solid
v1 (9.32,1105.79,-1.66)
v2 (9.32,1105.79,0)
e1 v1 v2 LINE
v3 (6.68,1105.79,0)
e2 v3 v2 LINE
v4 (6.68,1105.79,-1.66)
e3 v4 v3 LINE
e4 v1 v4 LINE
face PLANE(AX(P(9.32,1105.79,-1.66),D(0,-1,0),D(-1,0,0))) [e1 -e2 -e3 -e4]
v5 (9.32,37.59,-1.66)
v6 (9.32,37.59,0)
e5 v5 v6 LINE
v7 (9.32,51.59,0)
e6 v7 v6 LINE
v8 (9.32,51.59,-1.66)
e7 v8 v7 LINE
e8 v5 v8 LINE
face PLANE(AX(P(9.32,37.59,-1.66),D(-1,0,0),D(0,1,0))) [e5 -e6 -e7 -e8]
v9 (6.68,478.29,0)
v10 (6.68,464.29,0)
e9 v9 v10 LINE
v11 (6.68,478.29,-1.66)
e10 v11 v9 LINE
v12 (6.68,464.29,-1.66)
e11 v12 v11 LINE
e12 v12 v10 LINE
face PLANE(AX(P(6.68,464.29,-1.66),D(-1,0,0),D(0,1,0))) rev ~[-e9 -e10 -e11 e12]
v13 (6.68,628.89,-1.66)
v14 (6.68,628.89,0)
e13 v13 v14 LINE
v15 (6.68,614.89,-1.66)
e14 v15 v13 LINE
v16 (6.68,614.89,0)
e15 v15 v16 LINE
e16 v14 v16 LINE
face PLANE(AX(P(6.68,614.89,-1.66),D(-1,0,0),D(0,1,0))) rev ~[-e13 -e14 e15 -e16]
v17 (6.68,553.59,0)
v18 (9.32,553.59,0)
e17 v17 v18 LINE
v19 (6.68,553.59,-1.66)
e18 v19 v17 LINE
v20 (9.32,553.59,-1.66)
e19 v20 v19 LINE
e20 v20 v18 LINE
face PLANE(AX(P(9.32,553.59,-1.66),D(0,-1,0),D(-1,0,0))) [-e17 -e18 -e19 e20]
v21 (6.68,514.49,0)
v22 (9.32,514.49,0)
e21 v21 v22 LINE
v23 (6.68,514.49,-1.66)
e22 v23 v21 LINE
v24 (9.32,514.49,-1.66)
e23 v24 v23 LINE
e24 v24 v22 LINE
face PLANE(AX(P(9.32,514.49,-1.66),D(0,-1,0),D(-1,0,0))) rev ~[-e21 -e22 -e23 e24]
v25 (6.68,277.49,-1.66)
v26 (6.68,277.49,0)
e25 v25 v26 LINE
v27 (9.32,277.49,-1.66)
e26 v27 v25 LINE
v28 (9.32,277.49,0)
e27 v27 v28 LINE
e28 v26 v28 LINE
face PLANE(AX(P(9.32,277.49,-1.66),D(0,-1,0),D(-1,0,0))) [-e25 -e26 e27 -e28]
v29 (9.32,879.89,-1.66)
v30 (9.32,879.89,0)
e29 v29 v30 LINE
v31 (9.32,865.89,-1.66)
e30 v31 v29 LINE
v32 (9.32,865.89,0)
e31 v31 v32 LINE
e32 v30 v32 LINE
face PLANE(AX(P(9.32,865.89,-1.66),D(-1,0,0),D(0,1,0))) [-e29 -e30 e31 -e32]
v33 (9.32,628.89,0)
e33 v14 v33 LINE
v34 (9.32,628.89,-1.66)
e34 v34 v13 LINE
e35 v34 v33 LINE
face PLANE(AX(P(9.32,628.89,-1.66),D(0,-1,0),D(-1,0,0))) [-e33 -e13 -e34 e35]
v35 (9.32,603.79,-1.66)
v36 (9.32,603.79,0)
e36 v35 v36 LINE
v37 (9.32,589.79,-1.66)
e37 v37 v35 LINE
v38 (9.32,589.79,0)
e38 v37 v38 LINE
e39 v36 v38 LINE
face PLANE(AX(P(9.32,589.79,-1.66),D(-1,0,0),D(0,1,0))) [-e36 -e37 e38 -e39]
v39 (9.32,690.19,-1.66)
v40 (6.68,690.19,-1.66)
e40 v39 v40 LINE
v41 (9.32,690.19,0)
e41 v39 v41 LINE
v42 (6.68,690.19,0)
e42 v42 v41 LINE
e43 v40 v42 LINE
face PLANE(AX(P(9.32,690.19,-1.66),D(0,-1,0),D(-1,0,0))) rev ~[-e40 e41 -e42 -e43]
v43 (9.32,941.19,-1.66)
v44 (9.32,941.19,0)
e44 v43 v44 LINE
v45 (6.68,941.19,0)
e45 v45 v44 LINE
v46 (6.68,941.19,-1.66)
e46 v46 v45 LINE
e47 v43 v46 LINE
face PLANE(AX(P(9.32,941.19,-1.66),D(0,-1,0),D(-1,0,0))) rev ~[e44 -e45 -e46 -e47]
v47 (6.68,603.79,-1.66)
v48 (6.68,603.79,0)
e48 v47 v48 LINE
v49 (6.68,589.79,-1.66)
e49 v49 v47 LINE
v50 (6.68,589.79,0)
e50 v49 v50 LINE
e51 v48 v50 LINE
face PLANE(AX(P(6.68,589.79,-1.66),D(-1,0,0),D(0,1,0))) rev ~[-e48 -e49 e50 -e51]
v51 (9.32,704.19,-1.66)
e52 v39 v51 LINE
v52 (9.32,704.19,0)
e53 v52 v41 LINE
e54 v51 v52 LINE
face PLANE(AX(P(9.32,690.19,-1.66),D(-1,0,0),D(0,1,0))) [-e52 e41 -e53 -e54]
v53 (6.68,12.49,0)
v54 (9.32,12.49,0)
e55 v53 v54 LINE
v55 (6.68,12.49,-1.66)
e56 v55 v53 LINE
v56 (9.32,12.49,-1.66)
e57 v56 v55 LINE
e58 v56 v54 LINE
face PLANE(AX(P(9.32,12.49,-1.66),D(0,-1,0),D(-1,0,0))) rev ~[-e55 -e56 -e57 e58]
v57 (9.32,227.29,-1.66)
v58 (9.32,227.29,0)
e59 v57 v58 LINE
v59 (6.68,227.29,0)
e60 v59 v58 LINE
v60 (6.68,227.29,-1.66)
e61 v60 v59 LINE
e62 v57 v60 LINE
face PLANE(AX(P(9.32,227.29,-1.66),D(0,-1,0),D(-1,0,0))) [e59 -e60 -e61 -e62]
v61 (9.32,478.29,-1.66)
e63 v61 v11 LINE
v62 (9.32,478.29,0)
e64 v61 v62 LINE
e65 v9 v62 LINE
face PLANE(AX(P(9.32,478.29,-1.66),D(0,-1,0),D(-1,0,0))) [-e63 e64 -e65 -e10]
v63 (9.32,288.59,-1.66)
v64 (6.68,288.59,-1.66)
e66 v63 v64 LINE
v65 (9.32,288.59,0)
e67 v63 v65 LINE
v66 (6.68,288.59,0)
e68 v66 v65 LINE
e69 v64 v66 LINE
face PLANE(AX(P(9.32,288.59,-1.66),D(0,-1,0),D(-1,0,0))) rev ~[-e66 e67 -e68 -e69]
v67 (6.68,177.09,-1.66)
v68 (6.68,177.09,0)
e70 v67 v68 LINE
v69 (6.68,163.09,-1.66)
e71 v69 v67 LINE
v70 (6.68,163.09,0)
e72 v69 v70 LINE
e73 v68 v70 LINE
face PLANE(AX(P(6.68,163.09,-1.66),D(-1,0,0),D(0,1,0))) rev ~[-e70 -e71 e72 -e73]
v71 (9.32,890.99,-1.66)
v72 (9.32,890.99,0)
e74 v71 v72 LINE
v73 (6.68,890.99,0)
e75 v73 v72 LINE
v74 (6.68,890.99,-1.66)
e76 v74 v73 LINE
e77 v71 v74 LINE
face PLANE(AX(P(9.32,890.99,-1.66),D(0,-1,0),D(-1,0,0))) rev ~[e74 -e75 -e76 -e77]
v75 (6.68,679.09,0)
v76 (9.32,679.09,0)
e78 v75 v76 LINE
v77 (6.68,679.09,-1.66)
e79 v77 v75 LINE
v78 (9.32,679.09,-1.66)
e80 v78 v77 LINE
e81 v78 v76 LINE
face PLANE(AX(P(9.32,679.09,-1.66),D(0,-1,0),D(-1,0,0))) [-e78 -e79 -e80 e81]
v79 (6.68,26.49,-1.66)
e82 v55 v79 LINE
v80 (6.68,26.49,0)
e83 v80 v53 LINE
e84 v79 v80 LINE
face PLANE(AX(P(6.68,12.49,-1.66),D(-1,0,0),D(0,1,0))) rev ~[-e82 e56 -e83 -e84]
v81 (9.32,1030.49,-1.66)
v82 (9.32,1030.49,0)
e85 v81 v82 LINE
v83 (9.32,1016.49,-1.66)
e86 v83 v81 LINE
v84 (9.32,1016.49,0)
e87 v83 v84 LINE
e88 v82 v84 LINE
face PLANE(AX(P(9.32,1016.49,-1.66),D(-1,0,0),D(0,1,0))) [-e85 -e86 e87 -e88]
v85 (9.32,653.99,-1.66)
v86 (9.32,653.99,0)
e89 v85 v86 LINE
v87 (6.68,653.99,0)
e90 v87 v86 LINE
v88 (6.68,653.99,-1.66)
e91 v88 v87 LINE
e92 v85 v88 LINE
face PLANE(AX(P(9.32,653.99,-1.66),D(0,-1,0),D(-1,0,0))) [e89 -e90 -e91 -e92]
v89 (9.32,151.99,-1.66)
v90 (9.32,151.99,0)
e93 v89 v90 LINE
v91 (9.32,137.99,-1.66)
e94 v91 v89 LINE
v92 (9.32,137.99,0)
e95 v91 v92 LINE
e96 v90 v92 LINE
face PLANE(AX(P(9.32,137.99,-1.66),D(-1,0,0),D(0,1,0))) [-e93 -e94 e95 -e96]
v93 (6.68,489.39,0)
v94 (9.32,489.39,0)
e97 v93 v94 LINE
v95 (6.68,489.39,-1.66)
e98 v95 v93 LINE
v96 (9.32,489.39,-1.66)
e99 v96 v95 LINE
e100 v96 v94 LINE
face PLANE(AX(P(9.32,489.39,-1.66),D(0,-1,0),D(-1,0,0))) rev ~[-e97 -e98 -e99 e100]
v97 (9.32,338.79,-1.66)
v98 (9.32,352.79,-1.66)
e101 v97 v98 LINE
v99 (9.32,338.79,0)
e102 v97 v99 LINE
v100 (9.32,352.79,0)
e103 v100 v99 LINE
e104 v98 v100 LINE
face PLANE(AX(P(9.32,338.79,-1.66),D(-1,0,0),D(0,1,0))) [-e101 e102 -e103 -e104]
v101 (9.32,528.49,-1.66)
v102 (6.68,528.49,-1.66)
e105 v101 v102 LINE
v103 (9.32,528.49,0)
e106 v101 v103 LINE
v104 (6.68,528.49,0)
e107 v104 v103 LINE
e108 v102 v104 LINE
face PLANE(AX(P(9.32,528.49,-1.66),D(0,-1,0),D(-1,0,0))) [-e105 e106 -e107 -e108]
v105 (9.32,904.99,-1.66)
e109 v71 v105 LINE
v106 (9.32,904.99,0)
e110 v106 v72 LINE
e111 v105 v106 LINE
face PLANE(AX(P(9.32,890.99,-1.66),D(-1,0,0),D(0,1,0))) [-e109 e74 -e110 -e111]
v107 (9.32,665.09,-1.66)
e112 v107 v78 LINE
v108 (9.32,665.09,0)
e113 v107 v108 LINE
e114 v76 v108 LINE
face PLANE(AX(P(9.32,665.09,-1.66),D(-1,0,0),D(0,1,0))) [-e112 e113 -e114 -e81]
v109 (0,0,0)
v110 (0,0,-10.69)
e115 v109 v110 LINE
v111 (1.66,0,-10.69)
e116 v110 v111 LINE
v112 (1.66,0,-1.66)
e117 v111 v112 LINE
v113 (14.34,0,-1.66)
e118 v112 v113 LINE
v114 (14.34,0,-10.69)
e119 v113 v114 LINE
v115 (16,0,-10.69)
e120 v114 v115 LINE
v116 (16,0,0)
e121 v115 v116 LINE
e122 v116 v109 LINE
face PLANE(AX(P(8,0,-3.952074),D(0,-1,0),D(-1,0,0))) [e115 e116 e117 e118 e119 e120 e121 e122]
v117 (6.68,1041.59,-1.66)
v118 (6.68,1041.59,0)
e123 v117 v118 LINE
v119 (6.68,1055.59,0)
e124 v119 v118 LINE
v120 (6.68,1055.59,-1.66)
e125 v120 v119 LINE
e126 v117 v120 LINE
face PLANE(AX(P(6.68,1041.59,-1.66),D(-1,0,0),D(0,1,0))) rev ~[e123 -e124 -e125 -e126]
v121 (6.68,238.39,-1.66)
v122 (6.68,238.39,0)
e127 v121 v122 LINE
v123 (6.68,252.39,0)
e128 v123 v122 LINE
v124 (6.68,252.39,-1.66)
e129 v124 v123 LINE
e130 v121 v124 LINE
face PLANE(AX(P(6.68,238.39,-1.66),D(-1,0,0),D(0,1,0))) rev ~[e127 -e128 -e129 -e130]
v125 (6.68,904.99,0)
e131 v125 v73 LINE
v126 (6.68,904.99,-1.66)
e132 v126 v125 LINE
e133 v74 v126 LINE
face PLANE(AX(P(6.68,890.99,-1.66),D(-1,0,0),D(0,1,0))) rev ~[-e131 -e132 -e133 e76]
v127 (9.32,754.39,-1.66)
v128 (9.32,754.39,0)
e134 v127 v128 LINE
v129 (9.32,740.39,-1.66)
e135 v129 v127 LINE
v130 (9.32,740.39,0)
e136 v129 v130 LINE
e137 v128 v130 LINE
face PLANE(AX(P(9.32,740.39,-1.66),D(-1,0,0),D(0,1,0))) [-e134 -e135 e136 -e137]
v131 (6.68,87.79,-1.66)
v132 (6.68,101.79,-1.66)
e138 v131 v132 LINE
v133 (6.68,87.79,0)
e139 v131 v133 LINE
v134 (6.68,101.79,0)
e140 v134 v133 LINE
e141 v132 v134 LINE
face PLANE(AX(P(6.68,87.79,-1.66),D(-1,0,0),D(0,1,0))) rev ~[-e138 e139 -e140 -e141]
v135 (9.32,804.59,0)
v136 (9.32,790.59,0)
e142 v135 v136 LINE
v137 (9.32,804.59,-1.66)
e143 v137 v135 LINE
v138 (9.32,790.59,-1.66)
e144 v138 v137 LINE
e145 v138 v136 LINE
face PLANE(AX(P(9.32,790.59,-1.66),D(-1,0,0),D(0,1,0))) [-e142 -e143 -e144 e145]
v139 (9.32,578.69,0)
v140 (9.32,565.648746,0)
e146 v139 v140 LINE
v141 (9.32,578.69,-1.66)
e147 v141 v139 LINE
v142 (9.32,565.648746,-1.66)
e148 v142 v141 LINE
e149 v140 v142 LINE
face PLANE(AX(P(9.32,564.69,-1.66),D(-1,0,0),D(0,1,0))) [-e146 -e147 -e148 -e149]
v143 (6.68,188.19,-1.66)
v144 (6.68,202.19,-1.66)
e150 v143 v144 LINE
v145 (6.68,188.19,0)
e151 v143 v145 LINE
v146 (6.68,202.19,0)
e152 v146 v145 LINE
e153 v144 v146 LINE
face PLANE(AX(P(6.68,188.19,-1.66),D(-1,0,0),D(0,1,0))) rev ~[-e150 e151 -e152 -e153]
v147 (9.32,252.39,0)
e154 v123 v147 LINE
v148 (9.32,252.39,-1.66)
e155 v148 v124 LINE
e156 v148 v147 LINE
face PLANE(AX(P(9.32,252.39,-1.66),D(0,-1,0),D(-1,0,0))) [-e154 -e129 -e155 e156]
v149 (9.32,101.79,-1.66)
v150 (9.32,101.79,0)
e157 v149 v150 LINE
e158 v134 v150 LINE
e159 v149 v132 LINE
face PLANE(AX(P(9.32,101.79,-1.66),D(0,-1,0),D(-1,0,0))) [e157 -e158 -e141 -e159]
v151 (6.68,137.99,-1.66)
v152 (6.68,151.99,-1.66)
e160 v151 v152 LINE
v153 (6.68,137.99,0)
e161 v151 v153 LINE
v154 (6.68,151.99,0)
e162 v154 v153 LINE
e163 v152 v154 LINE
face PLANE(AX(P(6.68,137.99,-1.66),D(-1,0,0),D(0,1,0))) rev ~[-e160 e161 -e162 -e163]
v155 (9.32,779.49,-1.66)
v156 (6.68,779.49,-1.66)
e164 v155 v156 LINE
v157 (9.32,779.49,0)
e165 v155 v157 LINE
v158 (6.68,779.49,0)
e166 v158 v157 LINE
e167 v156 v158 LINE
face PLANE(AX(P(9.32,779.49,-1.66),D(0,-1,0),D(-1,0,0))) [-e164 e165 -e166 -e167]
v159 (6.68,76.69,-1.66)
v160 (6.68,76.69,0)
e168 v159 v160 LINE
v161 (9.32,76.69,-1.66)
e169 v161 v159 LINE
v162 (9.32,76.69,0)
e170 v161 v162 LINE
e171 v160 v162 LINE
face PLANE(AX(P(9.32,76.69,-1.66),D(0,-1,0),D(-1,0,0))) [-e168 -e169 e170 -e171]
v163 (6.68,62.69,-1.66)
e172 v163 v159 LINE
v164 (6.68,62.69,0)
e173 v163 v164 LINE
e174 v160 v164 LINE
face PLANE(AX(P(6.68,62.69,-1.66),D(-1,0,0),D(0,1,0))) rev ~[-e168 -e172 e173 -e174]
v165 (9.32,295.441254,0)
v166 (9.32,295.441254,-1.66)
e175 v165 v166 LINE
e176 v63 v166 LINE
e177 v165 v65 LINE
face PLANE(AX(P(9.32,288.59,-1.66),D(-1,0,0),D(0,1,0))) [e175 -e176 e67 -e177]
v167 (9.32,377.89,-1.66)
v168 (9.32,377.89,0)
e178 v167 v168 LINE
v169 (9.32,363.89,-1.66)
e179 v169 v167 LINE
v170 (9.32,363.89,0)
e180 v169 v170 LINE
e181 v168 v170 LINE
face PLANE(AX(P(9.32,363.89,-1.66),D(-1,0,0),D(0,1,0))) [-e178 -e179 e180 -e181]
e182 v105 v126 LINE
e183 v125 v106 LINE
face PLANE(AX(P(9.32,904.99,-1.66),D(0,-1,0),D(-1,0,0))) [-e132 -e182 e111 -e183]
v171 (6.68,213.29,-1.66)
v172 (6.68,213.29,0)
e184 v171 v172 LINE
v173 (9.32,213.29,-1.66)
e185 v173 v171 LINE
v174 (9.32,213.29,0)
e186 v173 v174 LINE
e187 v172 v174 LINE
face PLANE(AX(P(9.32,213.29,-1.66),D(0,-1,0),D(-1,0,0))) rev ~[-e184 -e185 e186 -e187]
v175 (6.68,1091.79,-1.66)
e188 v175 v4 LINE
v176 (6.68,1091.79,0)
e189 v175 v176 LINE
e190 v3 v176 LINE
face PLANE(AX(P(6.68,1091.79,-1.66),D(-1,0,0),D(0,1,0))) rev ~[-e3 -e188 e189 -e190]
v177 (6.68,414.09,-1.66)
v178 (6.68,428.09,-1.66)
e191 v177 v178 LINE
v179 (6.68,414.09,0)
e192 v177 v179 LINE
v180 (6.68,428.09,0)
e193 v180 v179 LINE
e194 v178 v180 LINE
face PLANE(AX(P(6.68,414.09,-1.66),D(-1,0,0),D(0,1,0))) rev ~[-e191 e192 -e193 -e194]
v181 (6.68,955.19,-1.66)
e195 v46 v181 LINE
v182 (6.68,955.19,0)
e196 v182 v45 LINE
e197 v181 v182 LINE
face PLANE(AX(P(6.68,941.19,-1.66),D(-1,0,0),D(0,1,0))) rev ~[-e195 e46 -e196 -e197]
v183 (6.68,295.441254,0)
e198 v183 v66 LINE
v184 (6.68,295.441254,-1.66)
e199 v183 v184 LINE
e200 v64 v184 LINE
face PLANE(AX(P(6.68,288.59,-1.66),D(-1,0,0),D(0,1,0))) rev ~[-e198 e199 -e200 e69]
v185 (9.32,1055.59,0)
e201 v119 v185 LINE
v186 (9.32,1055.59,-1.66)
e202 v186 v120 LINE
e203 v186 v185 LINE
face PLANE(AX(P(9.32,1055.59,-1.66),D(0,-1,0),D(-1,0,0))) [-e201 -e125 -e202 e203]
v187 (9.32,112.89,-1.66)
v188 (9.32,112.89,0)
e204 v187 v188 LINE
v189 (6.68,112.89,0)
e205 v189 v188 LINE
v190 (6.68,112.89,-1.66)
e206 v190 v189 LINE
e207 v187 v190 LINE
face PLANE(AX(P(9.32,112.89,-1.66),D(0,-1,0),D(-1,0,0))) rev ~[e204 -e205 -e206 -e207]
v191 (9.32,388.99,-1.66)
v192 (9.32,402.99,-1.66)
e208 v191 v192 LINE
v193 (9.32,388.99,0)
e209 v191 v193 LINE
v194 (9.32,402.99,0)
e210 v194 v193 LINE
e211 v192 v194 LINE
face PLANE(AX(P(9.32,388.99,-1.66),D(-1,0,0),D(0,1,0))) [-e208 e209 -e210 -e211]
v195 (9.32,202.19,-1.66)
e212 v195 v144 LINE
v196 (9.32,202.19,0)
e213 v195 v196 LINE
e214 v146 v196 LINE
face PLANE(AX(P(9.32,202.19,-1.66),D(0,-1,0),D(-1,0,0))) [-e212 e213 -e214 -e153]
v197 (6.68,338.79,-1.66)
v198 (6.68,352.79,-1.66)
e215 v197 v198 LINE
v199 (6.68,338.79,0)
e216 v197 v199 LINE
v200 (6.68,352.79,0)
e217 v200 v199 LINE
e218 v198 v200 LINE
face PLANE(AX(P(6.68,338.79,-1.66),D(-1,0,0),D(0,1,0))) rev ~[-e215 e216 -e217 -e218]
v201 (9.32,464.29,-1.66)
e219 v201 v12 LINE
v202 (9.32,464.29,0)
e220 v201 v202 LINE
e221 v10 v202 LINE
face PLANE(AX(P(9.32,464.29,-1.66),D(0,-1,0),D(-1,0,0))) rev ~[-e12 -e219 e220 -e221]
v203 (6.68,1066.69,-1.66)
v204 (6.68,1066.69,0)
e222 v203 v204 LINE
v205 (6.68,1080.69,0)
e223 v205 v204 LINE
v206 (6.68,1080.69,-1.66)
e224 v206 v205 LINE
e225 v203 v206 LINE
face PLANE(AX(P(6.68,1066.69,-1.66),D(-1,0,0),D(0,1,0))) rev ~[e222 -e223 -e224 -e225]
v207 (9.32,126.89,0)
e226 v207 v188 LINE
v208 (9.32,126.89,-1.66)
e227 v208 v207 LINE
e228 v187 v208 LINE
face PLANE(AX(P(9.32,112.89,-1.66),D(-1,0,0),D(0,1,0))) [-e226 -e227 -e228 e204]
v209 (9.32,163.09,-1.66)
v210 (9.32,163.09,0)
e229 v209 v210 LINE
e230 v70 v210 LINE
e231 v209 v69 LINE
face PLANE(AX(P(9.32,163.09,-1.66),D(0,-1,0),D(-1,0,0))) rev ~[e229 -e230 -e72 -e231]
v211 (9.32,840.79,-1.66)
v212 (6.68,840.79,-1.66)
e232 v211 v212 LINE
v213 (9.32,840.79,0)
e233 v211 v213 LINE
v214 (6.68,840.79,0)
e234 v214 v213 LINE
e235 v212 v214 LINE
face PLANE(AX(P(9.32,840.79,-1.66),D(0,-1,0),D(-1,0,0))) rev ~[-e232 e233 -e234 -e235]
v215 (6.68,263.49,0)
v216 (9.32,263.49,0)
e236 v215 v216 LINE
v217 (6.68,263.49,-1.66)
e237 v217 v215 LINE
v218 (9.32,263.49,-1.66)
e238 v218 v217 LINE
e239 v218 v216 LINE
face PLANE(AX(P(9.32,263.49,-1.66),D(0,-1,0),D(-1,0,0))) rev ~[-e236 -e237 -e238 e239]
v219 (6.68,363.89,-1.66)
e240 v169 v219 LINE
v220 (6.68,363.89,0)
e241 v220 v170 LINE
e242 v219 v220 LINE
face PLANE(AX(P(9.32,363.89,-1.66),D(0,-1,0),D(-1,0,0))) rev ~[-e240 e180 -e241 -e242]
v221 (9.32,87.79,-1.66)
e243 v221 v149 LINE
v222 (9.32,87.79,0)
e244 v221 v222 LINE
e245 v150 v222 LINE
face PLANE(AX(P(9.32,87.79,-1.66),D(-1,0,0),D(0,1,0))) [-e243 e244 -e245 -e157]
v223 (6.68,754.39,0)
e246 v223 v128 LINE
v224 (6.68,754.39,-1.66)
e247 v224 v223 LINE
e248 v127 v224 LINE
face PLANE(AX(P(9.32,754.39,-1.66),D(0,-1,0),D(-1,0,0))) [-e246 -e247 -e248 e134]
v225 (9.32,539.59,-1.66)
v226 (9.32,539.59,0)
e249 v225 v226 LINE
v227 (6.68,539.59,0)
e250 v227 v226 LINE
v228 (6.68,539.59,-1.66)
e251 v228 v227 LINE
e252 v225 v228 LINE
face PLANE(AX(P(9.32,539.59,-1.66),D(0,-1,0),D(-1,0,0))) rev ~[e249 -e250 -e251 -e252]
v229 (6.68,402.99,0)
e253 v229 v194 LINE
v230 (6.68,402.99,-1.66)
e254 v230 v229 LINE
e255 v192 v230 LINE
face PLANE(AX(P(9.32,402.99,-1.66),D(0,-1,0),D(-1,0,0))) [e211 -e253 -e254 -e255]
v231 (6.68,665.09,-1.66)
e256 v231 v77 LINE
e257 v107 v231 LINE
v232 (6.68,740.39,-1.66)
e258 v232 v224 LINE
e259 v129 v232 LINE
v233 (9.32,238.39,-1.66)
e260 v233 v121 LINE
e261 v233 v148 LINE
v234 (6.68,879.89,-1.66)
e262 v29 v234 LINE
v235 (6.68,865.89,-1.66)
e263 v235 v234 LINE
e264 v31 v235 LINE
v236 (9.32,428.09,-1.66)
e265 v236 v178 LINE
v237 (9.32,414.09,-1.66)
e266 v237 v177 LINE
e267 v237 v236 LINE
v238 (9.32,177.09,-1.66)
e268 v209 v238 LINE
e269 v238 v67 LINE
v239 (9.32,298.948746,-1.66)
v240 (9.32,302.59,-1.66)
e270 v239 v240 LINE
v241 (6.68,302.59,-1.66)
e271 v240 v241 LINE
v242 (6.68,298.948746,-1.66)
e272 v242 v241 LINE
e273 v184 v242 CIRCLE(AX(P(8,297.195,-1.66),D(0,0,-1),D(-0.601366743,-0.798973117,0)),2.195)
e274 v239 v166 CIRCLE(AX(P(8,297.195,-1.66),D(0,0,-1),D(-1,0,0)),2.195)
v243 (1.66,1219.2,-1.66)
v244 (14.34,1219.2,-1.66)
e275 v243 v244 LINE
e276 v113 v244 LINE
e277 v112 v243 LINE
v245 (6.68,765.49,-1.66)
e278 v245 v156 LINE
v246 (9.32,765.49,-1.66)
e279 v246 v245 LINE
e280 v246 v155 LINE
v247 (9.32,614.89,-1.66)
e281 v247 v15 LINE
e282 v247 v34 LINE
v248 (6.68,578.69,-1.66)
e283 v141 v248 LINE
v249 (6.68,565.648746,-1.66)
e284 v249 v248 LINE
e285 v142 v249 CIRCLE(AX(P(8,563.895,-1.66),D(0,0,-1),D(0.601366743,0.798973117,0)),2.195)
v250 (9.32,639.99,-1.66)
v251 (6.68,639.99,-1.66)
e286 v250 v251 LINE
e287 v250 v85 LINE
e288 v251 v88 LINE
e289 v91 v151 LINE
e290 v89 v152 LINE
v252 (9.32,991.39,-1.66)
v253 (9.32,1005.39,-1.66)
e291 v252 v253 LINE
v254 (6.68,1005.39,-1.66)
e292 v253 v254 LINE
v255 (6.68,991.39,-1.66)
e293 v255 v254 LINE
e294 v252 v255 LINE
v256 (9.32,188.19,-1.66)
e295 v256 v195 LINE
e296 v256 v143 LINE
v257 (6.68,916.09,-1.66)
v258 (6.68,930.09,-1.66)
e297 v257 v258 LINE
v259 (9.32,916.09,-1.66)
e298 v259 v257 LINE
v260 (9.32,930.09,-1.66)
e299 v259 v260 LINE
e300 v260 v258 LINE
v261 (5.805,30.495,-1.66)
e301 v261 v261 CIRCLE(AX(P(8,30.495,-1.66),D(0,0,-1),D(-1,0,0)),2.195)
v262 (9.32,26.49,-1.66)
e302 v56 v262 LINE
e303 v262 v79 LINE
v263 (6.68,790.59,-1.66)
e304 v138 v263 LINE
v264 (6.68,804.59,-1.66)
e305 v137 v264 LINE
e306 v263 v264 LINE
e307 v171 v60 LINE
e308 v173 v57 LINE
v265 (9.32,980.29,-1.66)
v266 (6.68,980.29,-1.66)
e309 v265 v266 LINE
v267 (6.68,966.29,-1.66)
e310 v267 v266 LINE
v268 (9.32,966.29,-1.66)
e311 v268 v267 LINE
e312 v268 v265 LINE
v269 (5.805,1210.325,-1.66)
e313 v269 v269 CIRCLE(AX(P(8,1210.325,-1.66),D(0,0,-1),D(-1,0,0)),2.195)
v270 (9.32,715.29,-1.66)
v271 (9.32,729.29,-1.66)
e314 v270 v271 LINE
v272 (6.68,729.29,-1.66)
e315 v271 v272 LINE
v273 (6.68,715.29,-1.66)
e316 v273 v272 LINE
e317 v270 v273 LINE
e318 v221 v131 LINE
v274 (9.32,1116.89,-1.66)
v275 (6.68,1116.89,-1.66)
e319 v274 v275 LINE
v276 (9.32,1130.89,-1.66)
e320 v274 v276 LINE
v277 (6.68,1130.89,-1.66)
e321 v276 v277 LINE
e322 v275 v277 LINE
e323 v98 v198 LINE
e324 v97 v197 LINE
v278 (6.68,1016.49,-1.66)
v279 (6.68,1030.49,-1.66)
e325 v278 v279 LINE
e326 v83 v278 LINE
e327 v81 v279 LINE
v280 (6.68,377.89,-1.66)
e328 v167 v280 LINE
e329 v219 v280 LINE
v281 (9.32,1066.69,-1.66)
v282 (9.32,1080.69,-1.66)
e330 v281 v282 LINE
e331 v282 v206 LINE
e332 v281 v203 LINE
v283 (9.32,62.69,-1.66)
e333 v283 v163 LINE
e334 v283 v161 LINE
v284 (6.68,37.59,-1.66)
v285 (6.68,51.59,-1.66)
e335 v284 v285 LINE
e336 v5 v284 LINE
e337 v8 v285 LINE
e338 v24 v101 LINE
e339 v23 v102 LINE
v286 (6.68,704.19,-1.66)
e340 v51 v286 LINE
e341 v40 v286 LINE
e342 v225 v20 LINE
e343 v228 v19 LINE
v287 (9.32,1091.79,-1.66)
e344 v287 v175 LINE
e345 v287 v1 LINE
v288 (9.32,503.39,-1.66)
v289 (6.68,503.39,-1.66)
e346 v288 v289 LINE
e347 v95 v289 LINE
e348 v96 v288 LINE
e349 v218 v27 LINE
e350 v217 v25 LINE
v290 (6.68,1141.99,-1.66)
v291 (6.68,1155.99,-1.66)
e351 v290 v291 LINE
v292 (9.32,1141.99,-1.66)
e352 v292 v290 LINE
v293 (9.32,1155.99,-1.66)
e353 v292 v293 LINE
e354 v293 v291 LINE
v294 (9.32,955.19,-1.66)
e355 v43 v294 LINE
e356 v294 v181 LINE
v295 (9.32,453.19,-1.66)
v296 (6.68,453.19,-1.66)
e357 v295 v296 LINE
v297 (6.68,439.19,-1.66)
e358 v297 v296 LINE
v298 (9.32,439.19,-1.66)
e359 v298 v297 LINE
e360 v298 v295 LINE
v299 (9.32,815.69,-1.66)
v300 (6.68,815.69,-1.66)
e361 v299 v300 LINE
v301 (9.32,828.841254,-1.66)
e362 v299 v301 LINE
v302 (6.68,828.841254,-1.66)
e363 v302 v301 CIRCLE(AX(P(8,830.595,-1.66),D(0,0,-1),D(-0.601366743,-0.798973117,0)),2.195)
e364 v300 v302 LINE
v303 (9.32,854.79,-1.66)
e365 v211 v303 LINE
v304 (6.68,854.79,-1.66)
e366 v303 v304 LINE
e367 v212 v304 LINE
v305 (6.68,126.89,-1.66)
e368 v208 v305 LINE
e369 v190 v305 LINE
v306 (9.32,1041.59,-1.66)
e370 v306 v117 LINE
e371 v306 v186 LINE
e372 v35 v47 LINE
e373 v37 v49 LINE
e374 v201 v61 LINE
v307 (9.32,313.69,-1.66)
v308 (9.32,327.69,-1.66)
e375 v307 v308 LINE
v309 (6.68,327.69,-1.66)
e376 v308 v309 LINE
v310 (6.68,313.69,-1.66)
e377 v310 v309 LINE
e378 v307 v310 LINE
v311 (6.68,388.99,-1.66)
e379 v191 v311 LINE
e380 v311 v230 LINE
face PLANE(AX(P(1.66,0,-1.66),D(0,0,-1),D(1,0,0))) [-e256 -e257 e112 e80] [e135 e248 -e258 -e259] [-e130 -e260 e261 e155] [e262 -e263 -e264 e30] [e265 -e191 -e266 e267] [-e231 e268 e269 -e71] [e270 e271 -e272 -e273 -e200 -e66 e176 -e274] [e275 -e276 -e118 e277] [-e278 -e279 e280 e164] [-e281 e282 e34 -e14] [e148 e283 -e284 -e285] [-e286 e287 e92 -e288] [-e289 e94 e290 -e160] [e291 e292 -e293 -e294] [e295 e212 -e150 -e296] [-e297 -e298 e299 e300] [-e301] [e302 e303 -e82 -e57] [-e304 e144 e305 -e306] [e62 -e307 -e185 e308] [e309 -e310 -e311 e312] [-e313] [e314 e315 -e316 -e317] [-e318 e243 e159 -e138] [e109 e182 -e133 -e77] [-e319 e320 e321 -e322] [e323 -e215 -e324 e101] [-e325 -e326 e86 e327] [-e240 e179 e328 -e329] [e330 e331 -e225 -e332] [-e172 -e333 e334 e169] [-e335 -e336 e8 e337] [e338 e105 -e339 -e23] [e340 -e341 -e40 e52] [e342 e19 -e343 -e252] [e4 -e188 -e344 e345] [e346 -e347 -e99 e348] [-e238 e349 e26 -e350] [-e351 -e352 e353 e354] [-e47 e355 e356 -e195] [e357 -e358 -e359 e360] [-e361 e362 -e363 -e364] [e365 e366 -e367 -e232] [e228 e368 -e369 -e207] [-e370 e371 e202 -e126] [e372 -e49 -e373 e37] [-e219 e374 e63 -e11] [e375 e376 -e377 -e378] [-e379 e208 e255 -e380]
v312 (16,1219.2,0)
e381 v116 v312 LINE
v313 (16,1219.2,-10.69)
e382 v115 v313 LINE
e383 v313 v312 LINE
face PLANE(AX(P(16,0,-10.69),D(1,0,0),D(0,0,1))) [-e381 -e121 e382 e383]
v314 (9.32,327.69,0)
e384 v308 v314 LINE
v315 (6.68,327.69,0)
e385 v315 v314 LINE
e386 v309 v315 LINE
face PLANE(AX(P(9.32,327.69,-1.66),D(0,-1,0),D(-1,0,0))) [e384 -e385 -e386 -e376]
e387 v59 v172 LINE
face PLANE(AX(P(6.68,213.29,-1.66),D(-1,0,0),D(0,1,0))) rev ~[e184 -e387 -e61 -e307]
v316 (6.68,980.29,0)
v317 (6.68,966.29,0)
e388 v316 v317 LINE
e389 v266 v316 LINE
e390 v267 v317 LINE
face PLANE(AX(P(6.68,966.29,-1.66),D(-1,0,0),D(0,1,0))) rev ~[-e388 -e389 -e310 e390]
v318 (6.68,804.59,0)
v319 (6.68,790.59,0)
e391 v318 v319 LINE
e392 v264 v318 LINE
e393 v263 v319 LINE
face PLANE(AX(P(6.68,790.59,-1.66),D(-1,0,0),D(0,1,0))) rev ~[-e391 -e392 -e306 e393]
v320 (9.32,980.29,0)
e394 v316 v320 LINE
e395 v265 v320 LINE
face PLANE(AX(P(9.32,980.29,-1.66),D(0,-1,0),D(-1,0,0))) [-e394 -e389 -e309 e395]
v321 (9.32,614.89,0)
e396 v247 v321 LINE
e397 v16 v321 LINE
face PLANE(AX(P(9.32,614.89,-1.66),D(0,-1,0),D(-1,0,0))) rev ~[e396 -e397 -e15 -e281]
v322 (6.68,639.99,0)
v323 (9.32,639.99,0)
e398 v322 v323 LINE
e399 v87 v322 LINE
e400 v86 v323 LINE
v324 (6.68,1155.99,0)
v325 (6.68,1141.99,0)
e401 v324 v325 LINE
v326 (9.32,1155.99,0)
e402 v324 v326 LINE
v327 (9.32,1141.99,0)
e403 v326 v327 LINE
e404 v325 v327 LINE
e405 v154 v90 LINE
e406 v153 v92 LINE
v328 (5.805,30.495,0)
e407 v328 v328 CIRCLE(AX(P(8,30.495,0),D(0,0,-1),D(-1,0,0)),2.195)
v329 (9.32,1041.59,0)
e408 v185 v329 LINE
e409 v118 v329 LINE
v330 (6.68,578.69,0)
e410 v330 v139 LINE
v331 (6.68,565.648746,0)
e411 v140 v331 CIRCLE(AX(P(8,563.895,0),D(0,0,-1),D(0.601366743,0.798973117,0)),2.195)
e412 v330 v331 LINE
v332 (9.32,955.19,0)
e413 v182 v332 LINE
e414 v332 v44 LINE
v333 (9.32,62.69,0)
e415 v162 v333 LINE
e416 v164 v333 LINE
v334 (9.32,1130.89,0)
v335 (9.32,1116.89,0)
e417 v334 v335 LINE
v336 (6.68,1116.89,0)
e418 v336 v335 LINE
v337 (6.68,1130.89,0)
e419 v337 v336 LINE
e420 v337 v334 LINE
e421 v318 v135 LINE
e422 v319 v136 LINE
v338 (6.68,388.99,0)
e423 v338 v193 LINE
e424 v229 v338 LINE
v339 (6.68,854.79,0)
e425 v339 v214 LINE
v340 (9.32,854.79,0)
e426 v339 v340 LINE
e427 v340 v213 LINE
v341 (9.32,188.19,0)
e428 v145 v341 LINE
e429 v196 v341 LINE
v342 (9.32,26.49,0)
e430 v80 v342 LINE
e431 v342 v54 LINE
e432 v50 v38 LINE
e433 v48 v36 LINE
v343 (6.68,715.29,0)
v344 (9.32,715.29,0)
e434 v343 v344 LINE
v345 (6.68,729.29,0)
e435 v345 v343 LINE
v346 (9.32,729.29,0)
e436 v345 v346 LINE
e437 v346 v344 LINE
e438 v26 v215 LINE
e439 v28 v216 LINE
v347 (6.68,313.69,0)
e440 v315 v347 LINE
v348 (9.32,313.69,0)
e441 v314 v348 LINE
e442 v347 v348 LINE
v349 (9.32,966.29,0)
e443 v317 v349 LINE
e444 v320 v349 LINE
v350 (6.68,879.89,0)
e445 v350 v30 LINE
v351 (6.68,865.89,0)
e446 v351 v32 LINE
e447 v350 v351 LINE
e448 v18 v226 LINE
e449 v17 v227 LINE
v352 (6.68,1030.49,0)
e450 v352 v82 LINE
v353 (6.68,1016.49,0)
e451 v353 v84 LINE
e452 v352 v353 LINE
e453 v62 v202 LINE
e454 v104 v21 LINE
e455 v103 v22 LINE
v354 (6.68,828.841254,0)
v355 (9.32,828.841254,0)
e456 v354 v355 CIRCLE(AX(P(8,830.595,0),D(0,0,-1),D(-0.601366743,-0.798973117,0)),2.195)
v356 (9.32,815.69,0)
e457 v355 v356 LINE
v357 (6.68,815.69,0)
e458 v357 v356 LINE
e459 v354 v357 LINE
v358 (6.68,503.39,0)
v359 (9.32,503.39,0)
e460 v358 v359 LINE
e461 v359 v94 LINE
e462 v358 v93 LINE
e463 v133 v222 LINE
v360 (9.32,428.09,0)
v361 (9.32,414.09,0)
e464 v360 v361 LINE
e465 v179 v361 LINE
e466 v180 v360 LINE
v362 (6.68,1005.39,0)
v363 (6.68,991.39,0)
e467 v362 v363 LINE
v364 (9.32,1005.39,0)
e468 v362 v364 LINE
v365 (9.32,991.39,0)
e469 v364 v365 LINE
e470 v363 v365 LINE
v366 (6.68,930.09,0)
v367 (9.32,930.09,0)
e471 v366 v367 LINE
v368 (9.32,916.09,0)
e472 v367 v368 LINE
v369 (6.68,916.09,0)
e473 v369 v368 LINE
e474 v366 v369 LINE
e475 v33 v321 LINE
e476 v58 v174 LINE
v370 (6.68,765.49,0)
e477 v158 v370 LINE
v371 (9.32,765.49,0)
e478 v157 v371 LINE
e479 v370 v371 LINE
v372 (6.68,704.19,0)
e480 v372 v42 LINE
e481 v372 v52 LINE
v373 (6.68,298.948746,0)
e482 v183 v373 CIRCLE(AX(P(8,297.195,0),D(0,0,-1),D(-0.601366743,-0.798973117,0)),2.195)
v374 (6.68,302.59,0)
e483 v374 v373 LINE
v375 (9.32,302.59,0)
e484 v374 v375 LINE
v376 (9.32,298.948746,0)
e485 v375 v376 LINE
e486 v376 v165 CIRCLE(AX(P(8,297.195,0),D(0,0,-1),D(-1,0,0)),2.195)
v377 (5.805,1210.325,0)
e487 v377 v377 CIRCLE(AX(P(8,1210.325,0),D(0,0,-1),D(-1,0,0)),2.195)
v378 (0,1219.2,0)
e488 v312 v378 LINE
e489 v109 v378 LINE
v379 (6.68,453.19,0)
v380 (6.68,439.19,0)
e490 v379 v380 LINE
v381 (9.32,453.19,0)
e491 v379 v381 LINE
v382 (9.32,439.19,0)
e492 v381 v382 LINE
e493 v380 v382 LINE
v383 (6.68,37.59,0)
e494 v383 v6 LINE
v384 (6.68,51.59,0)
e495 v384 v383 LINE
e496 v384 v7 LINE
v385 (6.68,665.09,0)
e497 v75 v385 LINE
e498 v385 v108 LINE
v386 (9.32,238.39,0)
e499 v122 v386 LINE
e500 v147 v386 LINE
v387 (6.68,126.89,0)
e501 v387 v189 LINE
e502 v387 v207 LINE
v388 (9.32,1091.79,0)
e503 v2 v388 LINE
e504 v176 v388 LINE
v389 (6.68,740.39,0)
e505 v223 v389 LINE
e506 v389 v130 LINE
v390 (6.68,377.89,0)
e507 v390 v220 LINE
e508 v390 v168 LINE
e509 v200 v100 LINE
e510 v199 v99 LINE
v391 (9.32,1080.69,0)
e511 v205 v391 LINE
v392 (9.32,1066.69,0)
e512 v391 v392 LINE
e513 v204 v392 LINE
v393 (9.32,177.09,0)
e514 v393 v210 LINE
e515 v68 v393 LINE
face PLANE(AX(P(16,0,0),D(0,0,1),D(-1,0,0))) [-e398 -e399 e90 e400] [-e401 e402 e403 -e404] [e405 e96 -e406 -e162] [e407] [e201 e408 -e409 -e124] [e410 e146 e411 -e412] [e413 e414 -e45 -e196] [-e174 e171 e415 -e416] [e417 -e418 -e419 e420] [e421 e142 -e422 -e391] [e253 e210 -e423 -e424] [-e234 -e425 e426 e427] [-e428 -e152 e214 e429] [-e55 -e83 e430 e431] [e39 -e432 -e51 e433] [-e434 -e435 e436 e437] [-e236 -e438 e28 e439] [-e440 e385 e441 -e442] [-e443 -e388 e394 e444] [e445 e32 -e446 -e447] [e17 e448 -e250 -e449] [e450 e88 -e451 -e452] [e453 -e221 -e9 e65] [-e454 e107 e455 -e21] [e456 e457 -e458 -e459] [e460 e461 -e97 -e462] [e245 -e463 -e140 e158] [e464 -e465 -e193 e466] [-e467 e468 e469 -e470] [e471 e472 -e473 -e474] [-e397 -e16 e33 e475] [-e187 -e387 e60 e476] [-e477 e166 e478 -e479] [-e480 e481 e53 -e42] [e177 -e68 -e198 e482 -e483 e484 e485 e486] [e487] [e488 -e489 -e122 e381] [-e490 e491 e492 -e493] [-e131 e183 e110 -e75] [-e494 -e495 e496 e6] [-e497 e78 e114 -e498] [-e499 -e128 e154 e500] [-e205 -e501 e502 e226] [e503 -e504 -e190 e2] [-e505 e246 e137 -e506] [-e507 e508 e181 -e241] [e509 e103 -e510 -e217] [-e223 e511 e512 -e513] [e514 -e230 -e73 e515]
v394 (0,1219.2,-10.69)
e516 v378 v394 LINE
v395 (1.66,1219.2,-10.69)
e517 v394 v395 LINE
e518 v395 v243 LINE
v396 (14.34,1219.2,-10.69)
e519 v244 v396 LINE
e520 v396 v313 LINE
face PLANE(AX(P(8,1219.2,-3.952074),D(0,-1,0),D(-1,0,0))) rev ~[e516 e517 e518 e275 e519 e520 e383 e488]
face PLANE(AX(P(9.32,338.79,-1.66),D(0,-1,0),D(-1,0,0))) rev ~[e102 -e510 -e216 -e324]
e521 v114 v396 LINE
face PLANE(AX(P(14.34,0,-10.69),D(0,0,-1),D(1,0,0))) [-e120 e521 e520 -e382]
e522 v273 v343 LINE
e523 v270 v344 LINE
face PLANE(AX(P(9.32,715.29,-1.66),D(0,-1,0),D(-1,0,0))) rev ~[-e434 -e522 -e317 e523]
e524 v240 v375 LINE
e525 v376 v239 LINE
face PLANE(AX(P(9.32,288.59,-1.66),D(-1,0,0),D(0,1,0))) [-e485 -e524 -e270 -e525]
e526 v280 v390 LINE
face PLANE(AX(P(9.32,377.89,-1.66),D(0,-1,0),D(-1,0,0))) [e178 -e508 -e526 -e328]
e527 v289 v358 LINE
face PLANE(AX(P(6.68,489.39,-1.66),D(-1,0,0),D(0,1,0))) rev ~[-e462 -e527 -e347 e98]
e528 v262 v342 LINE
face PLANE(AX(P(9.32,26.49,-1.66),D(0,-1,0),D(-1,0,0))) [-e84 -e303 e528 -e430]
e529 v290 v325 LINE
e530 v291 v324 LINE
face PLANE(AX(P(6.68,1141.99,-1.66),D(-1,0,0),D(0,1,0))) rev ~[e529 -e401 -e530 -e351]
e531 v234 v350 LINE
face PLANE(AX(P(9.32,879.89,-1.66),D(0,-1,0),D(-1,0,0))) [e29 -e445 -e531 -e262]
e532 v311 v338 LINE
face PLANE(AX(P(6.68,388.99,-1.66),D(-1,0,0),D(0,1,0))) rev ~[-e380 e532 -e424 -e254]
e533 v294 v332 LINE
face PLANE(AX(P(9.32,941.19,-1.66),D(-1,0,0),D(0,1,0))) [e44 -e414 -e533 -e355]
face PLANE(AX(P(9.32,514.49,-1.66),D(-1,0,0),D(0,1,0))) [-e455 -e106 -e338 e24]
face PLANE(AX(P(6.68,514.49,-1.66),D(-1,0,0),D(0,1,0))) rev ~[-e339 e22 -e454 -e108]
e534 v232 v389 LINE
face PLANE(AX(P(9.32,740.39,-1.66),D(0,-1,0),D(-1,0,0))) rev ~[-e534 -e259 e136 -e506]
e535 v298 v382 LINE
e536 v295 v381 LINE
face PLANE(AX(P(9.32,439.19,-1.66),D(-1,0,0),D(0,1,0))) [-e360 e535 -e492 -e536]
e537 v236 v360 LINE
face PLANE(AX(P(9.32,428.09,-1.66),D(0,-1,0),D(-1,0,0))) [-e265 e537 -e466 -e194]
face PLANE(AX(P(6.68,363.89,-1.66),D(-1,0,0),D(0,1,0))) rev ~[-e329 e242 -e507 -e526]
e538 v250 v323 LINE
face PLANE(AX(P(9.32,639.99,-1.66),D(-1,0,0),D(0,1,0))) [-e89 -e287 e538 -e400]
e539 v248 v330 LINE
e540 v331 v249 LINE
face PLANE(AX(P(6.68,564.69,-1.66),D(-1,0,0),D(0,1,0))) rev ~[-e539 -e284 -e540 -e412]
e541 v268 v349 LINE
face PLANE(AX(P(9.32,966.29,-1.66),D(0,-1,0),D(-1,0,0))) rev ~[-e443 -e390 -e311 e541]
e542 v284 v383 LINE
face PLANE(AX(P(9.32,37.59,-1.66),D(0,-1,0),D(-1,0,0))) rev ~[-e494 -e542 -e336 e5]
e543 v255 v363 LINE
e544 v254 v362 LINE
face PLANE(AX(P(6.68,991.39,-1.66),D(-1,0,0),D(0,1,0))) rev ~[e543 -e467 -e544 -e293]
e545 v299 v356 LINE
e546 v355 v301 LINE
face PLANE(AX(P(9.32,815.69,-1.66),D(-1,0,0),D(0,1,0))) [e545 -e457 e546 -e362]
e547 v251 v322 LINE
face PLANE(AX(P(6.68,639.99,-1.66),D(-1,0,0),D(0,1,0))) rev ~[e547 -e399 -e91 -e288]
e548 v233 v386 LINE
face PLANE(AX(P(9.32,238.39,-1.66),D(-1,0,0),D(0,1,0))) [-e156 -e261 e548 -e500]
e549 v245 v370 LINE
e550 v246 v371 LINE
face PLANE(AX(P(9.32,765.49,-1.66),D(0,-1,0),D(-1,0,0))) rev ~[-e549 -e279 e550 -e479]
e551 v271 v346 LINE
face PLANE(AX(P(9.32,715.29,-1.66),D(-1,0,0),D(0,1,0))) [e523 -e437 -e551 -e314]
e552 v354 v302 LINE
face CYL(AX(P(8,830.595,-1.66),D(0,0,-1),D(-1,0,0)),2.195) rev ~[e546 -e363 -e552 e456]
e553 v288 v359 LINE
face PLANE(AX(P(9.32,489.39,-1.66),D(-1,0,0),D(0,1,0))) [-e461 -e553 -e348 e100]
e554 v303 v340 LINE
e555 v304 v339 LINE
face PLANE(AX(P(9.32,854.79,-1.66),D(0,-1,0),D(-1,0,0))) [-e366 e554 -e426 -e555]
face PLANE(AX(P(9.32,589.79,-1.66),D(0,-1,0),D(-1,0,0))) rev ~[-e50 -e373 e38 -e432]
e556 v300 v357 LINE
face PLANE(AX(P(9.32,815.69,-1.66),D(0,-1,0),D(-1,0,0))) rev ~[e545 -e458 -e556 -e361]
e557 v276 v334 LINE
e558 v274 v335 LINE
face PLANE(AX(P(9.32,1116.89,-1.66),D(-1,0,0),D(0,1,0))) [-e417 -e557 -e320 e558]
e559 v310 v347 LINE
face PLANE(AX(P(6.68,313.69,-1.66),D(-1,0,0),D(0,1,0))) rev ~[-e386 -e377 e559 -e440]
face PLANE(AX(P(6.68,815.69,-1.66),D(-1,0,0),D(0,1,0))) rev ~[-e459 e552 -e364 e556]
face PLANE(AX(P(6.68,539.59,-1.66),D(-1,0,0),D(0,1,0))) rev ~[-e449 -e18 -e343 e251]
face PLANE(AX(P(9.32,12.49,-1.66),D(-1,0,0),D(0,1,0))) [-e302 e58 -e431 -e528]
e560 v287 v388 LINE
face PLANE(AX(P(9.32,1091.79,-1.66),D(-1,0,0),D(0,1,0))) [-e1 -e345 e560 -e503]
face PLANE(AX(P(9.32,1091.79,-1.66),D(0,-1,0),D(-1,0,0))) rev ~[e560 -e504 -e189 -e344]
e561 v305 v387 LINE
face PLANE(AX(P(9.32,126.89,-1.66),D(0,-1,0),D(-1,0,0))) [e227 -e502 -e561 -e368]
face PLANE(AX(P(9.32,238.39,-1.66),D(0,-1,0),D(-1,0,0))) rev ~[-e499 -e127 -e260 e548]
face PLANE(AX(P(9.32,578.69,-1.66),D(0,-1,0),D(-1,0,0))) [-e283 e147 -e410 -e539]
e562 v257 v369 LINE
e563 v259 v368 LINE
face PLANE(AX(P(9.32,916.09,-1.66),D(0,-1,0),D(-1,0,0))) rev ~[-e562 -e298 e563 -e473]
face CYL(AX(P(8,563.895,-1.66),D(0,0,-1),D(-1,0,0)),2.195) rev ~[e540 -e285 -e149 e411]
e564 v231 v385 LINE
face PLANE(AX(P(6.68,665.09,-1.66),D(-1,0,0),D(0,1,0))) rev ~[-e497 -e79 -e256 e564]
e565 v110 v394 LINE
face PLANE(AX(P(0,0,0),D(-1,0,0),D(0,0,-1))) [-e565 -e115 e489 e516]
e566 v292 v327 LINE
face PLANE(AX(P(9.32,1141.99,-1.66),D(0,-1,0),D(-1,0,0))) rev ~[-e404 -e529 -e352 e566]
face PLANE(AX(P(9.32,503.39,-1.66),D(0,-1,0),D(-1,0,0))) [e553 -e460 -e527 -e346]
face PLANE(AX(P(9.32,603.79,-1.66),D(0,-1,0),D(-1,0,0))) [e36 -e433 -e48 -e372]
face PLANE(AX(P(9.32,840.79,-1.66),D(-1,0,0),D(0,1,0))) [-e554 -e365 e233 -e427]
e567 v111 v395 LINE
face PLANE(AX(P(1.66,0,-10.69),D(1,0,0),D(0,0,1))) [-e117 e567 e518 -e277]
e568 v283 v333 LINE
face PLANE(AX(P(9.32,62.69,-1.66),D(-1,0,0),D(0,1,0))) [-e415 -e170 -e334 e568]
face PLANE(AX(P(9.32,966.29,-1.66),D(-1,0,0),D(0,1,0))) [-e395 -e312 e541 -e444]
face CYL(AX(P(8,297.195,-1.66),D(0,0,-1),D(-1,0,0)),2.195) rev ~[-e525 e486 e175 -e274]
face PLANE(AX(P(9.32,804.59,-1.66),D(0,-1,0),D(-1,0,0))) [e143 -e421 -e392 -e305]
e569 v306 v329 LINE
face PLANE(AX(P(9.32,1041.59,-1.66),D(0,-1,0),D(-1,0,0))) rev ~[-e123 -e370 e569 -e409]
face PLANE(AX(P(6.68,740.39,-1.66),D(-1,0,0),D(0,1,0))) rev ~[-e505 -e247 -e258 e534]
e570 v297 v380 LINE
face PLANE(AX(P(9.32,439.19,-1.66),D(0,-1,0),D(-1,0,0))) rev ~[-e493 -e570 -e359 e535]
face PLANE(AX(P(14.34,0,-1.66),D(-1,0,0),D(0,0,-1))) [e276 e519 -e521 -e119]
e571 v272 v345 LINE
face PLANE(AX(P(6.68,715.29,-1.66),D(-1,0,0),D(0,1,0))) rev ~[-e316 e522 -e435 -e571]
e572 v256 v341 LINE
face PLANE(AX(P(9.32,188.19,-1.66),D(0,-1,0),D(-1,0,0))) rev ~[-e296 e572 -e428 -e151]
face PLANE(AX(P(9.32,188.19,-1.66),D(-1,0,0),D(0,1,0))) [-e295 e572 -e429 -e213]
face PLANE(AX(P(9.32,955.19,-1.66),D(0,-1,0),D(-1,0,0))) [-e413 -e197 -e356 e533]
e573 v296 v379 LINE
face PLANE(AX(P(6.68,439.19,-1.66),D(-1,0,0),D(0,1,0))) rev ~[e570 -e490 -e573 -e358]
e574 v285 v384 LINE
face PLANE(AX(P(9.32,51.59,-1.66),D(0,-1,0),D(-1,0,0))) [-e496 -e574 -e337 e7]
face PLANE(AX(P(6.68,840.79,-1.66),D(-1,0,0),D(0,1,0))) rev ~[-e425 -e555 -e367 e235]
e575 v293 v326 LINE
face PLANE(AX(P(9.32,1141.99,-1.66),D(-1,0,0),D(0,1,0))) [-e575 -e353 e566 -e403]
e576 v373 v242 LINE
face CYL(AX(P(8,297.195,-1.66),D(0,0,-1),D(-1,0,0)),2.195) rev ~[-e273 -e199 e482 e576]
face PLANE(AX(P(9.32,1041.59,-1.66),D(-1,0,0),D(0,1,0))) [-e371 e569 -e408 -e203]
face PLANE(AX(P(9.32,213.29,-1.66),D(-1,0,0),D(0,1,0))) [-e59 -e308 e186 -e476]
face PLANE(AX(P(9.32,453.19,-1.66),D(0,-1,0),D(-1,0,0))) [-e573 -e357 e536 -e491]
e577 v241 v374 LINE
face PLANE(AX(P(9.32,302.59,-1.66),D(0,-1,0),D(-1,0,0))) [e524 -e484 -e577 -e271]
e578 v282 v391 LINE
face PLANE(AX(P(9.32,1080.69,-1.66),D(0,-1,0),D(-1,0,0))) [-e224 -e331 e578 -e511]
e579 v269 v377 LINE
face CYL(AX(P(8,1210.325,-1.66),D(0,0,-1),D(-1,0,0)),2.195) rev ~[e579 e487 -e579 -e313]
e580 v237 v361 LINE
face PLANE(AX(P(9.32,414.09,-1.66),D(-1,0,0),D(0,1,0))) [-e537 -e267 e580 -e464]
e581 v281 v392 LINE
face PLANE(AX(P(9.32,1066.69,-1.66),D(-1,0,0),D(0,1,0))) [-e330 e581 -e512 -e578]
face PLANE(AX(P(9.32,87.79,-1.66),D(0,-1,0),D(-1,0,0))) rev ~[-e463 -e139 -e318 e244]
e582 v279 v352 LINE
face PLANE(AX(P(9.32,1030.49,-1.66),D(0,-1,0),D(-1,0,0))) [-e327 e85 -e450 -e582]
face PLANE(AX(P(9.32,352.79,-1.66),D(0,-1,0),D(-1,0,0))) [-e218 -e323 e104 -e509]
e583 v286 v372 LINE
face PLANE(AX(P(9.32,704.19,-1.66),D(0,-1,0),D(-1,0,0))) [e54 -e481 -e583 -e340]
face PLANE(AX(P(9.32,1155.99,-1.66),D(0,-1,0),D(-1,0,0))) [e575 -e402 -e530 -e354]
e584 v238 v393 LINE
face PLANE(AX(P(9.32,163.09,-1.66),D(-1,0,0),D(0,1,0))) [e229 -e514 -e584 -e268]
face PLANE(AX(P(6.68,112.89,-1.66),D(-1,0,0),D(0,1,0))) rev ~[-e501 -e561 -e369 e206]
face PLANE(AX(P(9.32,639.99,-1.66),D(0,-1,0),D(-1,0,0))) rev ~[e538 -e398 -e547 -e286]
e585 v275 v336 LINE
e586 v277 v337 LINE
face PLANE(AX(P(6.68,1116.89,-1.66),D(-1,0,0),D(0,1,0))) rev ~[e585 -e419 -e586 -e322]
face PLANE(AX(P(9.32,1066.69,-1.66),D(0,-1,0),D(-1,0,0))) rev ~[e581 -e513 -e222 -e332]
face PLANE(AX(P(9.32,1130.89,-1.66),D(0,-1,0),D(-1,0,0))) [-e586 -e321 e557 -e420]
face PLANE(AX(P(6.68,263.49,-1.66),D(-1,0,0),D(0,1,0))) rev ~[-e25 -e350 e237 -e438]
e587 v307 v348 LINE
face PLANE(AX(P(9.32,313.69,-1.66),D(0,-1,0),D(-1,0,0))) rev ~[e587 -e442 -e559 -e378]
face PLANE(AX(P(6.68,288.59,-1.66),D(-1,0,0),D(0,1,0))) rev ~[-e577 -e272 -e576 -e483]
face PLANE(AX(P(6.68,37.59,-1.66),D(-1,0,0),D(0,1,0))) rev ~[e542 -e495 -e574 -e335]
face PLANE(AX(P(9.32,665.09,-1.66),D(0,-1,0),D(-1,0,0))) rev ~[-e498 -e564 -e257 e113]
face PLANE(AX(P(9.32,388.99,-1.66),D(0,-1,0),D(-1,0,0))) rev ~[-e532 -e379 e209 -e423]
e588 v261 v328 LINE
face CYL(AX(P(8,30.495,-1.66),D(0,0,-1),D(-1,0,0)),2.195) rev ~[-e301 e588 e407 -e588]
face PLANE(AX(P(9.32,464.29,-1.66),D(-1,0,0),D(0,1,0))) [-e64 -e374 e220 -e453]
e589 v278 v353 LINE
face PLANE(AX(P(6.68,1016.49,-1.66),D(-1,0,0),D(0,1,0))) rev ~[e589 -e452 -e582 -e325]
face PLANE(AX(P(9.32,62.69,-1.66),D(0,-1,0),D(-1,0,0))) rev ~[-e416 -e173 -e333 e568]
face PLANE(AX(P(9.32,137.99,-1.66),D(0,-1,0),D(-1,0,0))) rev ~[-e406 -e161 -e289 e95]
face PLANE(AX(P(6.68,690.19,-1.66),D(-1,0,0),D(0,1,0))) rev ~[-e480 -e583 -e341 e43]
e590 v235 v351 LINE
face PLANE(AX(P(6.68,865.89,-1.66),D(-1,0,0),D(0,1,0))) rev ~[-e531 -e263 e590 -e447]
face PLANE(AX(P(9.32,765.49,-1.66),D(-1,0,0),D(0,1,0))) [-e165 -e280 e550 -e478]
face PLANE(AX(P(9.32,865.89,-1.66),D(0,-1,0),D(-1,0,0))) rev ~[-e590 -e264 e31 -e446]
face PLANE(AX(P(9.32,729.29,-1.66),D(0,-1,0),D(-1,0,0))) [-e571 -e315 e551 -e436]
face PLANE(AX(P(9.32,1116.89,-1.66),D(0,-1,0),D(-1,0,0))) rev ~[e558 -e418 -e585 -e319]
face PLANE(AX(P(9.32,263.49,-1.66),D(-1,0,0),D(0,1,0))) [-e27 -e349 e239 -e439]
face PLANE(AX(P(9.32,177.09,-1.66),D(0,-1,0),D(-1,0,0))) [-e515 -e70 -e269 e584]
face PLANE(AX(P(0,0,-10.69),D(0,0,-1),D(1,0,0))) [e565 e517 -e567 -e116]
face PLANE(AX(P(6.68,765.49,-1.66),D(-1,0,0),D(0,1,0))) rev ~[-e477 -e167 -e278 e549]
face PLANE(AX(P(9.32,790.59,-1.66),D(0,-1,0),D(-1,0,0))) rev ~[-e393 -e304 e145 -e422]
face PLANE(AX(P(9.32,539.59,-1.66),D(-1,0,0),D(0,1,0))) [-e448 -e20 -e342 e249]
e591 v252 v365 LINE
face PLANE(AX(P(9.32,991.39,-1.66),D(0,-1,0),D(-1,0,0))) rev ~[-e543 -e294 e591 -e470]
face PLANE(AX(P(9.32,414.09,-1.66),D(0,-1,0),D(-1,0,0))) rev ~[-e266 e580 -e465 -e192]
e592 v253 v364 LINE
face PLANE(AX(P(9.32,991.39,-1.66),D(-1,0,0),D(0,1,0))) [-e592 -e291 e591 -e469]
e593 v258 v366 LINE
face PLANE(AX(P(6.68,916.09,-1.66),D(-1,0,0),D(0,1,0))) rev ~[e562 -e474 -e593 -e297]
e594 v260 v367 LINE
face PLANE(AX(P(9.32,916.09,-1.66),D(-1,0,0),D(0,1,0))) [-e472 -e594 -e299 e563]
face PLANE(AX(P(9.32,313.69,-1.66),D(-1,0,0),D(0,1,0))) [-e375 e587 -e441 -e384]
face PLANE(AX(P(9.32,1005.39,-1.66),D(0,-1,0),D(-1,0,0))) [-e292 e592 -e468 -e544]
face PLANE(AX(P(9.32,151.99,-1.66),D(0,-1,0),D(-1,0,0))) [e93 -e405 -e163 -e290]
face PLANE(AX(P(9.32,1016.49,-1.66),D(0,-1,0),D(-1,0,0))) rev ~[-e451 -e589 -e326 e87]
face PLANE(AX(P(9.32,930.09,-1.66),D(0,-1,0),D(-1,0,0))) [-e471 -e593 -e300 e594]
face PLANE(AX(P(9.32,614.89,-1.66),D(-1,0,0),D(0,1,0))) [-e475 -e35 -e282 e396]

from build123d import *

# Parameters (mm, degrees)
BOSS_EXTRUDE1_DEPTH = 1219.2
SKETCH2_W           = 2.64
SKETCH2_H           = 14
CUT_EXTRUDE1_DEPTH  = 2.66
SKETCH3_R           = 2.195
CUT_EXTRUDE2_DEPTH  = 2.66


with BuildPart() as part:
    # Sketch1 → Boss-Extrude1 (new body)
    with BuildSketch(Plane(origin=(0, 0, 0), x_dir=(1, 0, 0), z_dir=(0, 1, 0))):
        Polygon((0, 0), (0, 10.69), (1.66, 10.69), (1.66, 1.66), (14.34, 1.66), (14.34, 10.69), (16, 10.69), (16, 0), align=None)
    extrude(amount=BOSS_EXTRUDE1_DEPTH)

    # Sketch2 → Cut-Extrude1 (cut, through all)
    with BuildSketch(Plane(origin=(0, 0, -1.66), x_dir=(-1, 0, 0), z_dir=(0, 0, -1))):
        with Locations((-8, 1148.99)):
            Rectangle(SKETCH2_W, SKETCH2_H)
        with Locations((-8, 1123.89)):
            Rectangle(SKETCH2_W, SKETCH2_H)
        with Locations((-8, 1098.79)):
            Rectangle(SKETCH2_W, SKETCH2_H)
        with Locations((-8, 1073.69)):
            Rectangle(SKETCH2_W, SKETCH2_H)
        with Locations((-8, 1048.59)):
            Rectangle(SKETCH2_W, SKETCH2_H)
        with Locations((-8, 1023.49)):
            Rectangle(SKETCH2_W, SKETCH2_H)
        with Locations((-8, 998.39)):
            Rectangle(SKETCH2_W, SKETCH2_H)
        with Locations((-8, 973.29)):
            Rectangle(SKETCH2_W, SKETCH2_H)
        with Locations((-8, 948.19)):
            Rectangle(SKETCH2_W, SKETCH2_H)
        with Locations((-8, 923.09)):
            Rectangle(SKETCH2_W, SKETCH2_H)
        with Locations((-8, 897.99)):
            Rectangle(SKETCH2_W, SKETCH2_H)
        with Locations((-8, 872.89)):
            Rectangle(SKETCH2_W, SKETCH2_H)
        with Locations((-8, 847.79)):
            Rectangle(SKETCH2_W, SKETCH2_H)
        with Locations((-8, 822.69)):
            Rectangle(SKETCH2_W, SKETCH2_H)
        with Locations((-8, 797.59)):
            Rectangle(SKETCH2_W, SKETCH2_H)
        with Locations((-8, 772.49)):
            Rectangle(SKETCH2_W, SKETCH2_H)
        with Locations((-8, 747.39)):
            Rectangle(SKETCH2_W, SKETCH2_H)
        with Locations((-8, 722.29)):
            Rectangle(SKETCH2_W, SKETCH2_H)
        with Locations((-8, 697.19)):
            Rectangle(SKETCH2_W, SKETCH2_H)
        with Locations((-8, 672.09)):
            Rectangle(SKETCH2_W, SKETCH2_H)
        with Locations((-8, 646.99)):
            Rectangle(SKETCH2_W, SKETCH2_H)
        with Locations((-8, 621.89)):
            Rectangle(SKETCH2_W, SKETCH2_H)
        with Locations((-8, 596.79)):
            Rectangle(SKETCH2_W, SKETCH2_H)
        with Locations((-8, 571.69)):
            Rectangle(SKETCH2_W, SKETCH2_H)
        with Locations((-8, 546.59)):
            Rectangle(SKETCH2_W, SKETCH2_H)
        with Locations((-8, 521.49)):
            Rectangle(SKETCH2_W, SKETCH2_H)
        with Locations((-8, 496.39)):
            Rectangle(SKETCH2_W, SKETCH2_H)
        with Locations((-8, 471.29)):
            Rectangle(SKETCH2_W, SKETCH2_H)
        with Locations((-8, 446.19)):
            Rectangle(SKETCH2_W, SKETCH2_H)
        with Locations((-8, 421.09)):
            Rectangle(SKETCH2_W, SKETCH2_H)
        with Locations((-8, 395.99)):
            Rectangle(SKETCH2_W, SKETCH2_H)
        with Locations((-8, 370.89)):
            Rectangle(SKETCH2_W, SKETCH2_H)
        with Locations((-8, 345.79)):
            Rectangle(SKETCH2_W, SKETCH2_H)
        with Locations((-8, 320.69)):
            Rectangle(SKETCH2_W, SKETCH2_H)
        with Locations((-8, 295.59)):
            Rectangle(SKETCH2_W, SKETCH2_H)
        with Locations((-8, 270.49)):
            Rectangle(SKETCH2_W, SKETCH2_H)
        with Locations((-8, 245.39)):
            Rectangle(SKETCH2_W, SKETCH2_H)
        with Locations((-8, 220.29)):
            Rectangle(SKETCH2_W, SKETCH2_H)
        with Locations((-8, 195.19)):
            Rectangle(SKETCH2_W, SKETCH2_H)
        with Locations((-8, 170.09)):
            Rectangle(SKETCH2_W, SKETCH2_H)
        with Locations((-8, 144.99)):
            Rectangle(SKETCH2_W, SKETCH2_H)
        with Locations((-8, 119.89)):
            Rectangle(SKETCH2_W, SKETCH2_H)
        with Locations((-8, 94.79)):
            Rectangle(SKETCH2_W, SKETCH2_H)
        with Locations((-8, 69.69)):
            Rectangle(SKETCH2_W, SKETCH2_H)
        with Locations((-8, 44.59)):
            Rectangle(SKETCH2_W, SKETCH2_H)
        with Locations((-8, 19.49)):
            Rectangle(SKETCH2_W, SKETCH2_H)
    extrude(amount=-CUT_EXTRUDE1_DEPTH, mode=Mode.SUBTRACT)

    # Sketch3 → Cut-Extrude2 (cut, through all)
    with BuildSketch(Plane(origin=(0, 0, -1.66), x_dir=(-1, 0, 0), z_dir=(0, 0, -1))):
        with Locations((-8, 1210.325)):
            Circle(SKETCH3_R)
        with Locations((-8, 830.595)):
            Circle(SKETCH3_R)
        with Locations((-8, 563.895)):
            Circle(SKETCH3_R)
        with Locations((-8, 297.195)):
            Circle(SKETCH3_R)
        with Locations((-8, 30.495)):
            Circle(SKETCH3_R)
    extrude(amount=-CUT_EXTRUDE2_DEPTH, mode=Mode.SUBTRACT)


solid = part.part
